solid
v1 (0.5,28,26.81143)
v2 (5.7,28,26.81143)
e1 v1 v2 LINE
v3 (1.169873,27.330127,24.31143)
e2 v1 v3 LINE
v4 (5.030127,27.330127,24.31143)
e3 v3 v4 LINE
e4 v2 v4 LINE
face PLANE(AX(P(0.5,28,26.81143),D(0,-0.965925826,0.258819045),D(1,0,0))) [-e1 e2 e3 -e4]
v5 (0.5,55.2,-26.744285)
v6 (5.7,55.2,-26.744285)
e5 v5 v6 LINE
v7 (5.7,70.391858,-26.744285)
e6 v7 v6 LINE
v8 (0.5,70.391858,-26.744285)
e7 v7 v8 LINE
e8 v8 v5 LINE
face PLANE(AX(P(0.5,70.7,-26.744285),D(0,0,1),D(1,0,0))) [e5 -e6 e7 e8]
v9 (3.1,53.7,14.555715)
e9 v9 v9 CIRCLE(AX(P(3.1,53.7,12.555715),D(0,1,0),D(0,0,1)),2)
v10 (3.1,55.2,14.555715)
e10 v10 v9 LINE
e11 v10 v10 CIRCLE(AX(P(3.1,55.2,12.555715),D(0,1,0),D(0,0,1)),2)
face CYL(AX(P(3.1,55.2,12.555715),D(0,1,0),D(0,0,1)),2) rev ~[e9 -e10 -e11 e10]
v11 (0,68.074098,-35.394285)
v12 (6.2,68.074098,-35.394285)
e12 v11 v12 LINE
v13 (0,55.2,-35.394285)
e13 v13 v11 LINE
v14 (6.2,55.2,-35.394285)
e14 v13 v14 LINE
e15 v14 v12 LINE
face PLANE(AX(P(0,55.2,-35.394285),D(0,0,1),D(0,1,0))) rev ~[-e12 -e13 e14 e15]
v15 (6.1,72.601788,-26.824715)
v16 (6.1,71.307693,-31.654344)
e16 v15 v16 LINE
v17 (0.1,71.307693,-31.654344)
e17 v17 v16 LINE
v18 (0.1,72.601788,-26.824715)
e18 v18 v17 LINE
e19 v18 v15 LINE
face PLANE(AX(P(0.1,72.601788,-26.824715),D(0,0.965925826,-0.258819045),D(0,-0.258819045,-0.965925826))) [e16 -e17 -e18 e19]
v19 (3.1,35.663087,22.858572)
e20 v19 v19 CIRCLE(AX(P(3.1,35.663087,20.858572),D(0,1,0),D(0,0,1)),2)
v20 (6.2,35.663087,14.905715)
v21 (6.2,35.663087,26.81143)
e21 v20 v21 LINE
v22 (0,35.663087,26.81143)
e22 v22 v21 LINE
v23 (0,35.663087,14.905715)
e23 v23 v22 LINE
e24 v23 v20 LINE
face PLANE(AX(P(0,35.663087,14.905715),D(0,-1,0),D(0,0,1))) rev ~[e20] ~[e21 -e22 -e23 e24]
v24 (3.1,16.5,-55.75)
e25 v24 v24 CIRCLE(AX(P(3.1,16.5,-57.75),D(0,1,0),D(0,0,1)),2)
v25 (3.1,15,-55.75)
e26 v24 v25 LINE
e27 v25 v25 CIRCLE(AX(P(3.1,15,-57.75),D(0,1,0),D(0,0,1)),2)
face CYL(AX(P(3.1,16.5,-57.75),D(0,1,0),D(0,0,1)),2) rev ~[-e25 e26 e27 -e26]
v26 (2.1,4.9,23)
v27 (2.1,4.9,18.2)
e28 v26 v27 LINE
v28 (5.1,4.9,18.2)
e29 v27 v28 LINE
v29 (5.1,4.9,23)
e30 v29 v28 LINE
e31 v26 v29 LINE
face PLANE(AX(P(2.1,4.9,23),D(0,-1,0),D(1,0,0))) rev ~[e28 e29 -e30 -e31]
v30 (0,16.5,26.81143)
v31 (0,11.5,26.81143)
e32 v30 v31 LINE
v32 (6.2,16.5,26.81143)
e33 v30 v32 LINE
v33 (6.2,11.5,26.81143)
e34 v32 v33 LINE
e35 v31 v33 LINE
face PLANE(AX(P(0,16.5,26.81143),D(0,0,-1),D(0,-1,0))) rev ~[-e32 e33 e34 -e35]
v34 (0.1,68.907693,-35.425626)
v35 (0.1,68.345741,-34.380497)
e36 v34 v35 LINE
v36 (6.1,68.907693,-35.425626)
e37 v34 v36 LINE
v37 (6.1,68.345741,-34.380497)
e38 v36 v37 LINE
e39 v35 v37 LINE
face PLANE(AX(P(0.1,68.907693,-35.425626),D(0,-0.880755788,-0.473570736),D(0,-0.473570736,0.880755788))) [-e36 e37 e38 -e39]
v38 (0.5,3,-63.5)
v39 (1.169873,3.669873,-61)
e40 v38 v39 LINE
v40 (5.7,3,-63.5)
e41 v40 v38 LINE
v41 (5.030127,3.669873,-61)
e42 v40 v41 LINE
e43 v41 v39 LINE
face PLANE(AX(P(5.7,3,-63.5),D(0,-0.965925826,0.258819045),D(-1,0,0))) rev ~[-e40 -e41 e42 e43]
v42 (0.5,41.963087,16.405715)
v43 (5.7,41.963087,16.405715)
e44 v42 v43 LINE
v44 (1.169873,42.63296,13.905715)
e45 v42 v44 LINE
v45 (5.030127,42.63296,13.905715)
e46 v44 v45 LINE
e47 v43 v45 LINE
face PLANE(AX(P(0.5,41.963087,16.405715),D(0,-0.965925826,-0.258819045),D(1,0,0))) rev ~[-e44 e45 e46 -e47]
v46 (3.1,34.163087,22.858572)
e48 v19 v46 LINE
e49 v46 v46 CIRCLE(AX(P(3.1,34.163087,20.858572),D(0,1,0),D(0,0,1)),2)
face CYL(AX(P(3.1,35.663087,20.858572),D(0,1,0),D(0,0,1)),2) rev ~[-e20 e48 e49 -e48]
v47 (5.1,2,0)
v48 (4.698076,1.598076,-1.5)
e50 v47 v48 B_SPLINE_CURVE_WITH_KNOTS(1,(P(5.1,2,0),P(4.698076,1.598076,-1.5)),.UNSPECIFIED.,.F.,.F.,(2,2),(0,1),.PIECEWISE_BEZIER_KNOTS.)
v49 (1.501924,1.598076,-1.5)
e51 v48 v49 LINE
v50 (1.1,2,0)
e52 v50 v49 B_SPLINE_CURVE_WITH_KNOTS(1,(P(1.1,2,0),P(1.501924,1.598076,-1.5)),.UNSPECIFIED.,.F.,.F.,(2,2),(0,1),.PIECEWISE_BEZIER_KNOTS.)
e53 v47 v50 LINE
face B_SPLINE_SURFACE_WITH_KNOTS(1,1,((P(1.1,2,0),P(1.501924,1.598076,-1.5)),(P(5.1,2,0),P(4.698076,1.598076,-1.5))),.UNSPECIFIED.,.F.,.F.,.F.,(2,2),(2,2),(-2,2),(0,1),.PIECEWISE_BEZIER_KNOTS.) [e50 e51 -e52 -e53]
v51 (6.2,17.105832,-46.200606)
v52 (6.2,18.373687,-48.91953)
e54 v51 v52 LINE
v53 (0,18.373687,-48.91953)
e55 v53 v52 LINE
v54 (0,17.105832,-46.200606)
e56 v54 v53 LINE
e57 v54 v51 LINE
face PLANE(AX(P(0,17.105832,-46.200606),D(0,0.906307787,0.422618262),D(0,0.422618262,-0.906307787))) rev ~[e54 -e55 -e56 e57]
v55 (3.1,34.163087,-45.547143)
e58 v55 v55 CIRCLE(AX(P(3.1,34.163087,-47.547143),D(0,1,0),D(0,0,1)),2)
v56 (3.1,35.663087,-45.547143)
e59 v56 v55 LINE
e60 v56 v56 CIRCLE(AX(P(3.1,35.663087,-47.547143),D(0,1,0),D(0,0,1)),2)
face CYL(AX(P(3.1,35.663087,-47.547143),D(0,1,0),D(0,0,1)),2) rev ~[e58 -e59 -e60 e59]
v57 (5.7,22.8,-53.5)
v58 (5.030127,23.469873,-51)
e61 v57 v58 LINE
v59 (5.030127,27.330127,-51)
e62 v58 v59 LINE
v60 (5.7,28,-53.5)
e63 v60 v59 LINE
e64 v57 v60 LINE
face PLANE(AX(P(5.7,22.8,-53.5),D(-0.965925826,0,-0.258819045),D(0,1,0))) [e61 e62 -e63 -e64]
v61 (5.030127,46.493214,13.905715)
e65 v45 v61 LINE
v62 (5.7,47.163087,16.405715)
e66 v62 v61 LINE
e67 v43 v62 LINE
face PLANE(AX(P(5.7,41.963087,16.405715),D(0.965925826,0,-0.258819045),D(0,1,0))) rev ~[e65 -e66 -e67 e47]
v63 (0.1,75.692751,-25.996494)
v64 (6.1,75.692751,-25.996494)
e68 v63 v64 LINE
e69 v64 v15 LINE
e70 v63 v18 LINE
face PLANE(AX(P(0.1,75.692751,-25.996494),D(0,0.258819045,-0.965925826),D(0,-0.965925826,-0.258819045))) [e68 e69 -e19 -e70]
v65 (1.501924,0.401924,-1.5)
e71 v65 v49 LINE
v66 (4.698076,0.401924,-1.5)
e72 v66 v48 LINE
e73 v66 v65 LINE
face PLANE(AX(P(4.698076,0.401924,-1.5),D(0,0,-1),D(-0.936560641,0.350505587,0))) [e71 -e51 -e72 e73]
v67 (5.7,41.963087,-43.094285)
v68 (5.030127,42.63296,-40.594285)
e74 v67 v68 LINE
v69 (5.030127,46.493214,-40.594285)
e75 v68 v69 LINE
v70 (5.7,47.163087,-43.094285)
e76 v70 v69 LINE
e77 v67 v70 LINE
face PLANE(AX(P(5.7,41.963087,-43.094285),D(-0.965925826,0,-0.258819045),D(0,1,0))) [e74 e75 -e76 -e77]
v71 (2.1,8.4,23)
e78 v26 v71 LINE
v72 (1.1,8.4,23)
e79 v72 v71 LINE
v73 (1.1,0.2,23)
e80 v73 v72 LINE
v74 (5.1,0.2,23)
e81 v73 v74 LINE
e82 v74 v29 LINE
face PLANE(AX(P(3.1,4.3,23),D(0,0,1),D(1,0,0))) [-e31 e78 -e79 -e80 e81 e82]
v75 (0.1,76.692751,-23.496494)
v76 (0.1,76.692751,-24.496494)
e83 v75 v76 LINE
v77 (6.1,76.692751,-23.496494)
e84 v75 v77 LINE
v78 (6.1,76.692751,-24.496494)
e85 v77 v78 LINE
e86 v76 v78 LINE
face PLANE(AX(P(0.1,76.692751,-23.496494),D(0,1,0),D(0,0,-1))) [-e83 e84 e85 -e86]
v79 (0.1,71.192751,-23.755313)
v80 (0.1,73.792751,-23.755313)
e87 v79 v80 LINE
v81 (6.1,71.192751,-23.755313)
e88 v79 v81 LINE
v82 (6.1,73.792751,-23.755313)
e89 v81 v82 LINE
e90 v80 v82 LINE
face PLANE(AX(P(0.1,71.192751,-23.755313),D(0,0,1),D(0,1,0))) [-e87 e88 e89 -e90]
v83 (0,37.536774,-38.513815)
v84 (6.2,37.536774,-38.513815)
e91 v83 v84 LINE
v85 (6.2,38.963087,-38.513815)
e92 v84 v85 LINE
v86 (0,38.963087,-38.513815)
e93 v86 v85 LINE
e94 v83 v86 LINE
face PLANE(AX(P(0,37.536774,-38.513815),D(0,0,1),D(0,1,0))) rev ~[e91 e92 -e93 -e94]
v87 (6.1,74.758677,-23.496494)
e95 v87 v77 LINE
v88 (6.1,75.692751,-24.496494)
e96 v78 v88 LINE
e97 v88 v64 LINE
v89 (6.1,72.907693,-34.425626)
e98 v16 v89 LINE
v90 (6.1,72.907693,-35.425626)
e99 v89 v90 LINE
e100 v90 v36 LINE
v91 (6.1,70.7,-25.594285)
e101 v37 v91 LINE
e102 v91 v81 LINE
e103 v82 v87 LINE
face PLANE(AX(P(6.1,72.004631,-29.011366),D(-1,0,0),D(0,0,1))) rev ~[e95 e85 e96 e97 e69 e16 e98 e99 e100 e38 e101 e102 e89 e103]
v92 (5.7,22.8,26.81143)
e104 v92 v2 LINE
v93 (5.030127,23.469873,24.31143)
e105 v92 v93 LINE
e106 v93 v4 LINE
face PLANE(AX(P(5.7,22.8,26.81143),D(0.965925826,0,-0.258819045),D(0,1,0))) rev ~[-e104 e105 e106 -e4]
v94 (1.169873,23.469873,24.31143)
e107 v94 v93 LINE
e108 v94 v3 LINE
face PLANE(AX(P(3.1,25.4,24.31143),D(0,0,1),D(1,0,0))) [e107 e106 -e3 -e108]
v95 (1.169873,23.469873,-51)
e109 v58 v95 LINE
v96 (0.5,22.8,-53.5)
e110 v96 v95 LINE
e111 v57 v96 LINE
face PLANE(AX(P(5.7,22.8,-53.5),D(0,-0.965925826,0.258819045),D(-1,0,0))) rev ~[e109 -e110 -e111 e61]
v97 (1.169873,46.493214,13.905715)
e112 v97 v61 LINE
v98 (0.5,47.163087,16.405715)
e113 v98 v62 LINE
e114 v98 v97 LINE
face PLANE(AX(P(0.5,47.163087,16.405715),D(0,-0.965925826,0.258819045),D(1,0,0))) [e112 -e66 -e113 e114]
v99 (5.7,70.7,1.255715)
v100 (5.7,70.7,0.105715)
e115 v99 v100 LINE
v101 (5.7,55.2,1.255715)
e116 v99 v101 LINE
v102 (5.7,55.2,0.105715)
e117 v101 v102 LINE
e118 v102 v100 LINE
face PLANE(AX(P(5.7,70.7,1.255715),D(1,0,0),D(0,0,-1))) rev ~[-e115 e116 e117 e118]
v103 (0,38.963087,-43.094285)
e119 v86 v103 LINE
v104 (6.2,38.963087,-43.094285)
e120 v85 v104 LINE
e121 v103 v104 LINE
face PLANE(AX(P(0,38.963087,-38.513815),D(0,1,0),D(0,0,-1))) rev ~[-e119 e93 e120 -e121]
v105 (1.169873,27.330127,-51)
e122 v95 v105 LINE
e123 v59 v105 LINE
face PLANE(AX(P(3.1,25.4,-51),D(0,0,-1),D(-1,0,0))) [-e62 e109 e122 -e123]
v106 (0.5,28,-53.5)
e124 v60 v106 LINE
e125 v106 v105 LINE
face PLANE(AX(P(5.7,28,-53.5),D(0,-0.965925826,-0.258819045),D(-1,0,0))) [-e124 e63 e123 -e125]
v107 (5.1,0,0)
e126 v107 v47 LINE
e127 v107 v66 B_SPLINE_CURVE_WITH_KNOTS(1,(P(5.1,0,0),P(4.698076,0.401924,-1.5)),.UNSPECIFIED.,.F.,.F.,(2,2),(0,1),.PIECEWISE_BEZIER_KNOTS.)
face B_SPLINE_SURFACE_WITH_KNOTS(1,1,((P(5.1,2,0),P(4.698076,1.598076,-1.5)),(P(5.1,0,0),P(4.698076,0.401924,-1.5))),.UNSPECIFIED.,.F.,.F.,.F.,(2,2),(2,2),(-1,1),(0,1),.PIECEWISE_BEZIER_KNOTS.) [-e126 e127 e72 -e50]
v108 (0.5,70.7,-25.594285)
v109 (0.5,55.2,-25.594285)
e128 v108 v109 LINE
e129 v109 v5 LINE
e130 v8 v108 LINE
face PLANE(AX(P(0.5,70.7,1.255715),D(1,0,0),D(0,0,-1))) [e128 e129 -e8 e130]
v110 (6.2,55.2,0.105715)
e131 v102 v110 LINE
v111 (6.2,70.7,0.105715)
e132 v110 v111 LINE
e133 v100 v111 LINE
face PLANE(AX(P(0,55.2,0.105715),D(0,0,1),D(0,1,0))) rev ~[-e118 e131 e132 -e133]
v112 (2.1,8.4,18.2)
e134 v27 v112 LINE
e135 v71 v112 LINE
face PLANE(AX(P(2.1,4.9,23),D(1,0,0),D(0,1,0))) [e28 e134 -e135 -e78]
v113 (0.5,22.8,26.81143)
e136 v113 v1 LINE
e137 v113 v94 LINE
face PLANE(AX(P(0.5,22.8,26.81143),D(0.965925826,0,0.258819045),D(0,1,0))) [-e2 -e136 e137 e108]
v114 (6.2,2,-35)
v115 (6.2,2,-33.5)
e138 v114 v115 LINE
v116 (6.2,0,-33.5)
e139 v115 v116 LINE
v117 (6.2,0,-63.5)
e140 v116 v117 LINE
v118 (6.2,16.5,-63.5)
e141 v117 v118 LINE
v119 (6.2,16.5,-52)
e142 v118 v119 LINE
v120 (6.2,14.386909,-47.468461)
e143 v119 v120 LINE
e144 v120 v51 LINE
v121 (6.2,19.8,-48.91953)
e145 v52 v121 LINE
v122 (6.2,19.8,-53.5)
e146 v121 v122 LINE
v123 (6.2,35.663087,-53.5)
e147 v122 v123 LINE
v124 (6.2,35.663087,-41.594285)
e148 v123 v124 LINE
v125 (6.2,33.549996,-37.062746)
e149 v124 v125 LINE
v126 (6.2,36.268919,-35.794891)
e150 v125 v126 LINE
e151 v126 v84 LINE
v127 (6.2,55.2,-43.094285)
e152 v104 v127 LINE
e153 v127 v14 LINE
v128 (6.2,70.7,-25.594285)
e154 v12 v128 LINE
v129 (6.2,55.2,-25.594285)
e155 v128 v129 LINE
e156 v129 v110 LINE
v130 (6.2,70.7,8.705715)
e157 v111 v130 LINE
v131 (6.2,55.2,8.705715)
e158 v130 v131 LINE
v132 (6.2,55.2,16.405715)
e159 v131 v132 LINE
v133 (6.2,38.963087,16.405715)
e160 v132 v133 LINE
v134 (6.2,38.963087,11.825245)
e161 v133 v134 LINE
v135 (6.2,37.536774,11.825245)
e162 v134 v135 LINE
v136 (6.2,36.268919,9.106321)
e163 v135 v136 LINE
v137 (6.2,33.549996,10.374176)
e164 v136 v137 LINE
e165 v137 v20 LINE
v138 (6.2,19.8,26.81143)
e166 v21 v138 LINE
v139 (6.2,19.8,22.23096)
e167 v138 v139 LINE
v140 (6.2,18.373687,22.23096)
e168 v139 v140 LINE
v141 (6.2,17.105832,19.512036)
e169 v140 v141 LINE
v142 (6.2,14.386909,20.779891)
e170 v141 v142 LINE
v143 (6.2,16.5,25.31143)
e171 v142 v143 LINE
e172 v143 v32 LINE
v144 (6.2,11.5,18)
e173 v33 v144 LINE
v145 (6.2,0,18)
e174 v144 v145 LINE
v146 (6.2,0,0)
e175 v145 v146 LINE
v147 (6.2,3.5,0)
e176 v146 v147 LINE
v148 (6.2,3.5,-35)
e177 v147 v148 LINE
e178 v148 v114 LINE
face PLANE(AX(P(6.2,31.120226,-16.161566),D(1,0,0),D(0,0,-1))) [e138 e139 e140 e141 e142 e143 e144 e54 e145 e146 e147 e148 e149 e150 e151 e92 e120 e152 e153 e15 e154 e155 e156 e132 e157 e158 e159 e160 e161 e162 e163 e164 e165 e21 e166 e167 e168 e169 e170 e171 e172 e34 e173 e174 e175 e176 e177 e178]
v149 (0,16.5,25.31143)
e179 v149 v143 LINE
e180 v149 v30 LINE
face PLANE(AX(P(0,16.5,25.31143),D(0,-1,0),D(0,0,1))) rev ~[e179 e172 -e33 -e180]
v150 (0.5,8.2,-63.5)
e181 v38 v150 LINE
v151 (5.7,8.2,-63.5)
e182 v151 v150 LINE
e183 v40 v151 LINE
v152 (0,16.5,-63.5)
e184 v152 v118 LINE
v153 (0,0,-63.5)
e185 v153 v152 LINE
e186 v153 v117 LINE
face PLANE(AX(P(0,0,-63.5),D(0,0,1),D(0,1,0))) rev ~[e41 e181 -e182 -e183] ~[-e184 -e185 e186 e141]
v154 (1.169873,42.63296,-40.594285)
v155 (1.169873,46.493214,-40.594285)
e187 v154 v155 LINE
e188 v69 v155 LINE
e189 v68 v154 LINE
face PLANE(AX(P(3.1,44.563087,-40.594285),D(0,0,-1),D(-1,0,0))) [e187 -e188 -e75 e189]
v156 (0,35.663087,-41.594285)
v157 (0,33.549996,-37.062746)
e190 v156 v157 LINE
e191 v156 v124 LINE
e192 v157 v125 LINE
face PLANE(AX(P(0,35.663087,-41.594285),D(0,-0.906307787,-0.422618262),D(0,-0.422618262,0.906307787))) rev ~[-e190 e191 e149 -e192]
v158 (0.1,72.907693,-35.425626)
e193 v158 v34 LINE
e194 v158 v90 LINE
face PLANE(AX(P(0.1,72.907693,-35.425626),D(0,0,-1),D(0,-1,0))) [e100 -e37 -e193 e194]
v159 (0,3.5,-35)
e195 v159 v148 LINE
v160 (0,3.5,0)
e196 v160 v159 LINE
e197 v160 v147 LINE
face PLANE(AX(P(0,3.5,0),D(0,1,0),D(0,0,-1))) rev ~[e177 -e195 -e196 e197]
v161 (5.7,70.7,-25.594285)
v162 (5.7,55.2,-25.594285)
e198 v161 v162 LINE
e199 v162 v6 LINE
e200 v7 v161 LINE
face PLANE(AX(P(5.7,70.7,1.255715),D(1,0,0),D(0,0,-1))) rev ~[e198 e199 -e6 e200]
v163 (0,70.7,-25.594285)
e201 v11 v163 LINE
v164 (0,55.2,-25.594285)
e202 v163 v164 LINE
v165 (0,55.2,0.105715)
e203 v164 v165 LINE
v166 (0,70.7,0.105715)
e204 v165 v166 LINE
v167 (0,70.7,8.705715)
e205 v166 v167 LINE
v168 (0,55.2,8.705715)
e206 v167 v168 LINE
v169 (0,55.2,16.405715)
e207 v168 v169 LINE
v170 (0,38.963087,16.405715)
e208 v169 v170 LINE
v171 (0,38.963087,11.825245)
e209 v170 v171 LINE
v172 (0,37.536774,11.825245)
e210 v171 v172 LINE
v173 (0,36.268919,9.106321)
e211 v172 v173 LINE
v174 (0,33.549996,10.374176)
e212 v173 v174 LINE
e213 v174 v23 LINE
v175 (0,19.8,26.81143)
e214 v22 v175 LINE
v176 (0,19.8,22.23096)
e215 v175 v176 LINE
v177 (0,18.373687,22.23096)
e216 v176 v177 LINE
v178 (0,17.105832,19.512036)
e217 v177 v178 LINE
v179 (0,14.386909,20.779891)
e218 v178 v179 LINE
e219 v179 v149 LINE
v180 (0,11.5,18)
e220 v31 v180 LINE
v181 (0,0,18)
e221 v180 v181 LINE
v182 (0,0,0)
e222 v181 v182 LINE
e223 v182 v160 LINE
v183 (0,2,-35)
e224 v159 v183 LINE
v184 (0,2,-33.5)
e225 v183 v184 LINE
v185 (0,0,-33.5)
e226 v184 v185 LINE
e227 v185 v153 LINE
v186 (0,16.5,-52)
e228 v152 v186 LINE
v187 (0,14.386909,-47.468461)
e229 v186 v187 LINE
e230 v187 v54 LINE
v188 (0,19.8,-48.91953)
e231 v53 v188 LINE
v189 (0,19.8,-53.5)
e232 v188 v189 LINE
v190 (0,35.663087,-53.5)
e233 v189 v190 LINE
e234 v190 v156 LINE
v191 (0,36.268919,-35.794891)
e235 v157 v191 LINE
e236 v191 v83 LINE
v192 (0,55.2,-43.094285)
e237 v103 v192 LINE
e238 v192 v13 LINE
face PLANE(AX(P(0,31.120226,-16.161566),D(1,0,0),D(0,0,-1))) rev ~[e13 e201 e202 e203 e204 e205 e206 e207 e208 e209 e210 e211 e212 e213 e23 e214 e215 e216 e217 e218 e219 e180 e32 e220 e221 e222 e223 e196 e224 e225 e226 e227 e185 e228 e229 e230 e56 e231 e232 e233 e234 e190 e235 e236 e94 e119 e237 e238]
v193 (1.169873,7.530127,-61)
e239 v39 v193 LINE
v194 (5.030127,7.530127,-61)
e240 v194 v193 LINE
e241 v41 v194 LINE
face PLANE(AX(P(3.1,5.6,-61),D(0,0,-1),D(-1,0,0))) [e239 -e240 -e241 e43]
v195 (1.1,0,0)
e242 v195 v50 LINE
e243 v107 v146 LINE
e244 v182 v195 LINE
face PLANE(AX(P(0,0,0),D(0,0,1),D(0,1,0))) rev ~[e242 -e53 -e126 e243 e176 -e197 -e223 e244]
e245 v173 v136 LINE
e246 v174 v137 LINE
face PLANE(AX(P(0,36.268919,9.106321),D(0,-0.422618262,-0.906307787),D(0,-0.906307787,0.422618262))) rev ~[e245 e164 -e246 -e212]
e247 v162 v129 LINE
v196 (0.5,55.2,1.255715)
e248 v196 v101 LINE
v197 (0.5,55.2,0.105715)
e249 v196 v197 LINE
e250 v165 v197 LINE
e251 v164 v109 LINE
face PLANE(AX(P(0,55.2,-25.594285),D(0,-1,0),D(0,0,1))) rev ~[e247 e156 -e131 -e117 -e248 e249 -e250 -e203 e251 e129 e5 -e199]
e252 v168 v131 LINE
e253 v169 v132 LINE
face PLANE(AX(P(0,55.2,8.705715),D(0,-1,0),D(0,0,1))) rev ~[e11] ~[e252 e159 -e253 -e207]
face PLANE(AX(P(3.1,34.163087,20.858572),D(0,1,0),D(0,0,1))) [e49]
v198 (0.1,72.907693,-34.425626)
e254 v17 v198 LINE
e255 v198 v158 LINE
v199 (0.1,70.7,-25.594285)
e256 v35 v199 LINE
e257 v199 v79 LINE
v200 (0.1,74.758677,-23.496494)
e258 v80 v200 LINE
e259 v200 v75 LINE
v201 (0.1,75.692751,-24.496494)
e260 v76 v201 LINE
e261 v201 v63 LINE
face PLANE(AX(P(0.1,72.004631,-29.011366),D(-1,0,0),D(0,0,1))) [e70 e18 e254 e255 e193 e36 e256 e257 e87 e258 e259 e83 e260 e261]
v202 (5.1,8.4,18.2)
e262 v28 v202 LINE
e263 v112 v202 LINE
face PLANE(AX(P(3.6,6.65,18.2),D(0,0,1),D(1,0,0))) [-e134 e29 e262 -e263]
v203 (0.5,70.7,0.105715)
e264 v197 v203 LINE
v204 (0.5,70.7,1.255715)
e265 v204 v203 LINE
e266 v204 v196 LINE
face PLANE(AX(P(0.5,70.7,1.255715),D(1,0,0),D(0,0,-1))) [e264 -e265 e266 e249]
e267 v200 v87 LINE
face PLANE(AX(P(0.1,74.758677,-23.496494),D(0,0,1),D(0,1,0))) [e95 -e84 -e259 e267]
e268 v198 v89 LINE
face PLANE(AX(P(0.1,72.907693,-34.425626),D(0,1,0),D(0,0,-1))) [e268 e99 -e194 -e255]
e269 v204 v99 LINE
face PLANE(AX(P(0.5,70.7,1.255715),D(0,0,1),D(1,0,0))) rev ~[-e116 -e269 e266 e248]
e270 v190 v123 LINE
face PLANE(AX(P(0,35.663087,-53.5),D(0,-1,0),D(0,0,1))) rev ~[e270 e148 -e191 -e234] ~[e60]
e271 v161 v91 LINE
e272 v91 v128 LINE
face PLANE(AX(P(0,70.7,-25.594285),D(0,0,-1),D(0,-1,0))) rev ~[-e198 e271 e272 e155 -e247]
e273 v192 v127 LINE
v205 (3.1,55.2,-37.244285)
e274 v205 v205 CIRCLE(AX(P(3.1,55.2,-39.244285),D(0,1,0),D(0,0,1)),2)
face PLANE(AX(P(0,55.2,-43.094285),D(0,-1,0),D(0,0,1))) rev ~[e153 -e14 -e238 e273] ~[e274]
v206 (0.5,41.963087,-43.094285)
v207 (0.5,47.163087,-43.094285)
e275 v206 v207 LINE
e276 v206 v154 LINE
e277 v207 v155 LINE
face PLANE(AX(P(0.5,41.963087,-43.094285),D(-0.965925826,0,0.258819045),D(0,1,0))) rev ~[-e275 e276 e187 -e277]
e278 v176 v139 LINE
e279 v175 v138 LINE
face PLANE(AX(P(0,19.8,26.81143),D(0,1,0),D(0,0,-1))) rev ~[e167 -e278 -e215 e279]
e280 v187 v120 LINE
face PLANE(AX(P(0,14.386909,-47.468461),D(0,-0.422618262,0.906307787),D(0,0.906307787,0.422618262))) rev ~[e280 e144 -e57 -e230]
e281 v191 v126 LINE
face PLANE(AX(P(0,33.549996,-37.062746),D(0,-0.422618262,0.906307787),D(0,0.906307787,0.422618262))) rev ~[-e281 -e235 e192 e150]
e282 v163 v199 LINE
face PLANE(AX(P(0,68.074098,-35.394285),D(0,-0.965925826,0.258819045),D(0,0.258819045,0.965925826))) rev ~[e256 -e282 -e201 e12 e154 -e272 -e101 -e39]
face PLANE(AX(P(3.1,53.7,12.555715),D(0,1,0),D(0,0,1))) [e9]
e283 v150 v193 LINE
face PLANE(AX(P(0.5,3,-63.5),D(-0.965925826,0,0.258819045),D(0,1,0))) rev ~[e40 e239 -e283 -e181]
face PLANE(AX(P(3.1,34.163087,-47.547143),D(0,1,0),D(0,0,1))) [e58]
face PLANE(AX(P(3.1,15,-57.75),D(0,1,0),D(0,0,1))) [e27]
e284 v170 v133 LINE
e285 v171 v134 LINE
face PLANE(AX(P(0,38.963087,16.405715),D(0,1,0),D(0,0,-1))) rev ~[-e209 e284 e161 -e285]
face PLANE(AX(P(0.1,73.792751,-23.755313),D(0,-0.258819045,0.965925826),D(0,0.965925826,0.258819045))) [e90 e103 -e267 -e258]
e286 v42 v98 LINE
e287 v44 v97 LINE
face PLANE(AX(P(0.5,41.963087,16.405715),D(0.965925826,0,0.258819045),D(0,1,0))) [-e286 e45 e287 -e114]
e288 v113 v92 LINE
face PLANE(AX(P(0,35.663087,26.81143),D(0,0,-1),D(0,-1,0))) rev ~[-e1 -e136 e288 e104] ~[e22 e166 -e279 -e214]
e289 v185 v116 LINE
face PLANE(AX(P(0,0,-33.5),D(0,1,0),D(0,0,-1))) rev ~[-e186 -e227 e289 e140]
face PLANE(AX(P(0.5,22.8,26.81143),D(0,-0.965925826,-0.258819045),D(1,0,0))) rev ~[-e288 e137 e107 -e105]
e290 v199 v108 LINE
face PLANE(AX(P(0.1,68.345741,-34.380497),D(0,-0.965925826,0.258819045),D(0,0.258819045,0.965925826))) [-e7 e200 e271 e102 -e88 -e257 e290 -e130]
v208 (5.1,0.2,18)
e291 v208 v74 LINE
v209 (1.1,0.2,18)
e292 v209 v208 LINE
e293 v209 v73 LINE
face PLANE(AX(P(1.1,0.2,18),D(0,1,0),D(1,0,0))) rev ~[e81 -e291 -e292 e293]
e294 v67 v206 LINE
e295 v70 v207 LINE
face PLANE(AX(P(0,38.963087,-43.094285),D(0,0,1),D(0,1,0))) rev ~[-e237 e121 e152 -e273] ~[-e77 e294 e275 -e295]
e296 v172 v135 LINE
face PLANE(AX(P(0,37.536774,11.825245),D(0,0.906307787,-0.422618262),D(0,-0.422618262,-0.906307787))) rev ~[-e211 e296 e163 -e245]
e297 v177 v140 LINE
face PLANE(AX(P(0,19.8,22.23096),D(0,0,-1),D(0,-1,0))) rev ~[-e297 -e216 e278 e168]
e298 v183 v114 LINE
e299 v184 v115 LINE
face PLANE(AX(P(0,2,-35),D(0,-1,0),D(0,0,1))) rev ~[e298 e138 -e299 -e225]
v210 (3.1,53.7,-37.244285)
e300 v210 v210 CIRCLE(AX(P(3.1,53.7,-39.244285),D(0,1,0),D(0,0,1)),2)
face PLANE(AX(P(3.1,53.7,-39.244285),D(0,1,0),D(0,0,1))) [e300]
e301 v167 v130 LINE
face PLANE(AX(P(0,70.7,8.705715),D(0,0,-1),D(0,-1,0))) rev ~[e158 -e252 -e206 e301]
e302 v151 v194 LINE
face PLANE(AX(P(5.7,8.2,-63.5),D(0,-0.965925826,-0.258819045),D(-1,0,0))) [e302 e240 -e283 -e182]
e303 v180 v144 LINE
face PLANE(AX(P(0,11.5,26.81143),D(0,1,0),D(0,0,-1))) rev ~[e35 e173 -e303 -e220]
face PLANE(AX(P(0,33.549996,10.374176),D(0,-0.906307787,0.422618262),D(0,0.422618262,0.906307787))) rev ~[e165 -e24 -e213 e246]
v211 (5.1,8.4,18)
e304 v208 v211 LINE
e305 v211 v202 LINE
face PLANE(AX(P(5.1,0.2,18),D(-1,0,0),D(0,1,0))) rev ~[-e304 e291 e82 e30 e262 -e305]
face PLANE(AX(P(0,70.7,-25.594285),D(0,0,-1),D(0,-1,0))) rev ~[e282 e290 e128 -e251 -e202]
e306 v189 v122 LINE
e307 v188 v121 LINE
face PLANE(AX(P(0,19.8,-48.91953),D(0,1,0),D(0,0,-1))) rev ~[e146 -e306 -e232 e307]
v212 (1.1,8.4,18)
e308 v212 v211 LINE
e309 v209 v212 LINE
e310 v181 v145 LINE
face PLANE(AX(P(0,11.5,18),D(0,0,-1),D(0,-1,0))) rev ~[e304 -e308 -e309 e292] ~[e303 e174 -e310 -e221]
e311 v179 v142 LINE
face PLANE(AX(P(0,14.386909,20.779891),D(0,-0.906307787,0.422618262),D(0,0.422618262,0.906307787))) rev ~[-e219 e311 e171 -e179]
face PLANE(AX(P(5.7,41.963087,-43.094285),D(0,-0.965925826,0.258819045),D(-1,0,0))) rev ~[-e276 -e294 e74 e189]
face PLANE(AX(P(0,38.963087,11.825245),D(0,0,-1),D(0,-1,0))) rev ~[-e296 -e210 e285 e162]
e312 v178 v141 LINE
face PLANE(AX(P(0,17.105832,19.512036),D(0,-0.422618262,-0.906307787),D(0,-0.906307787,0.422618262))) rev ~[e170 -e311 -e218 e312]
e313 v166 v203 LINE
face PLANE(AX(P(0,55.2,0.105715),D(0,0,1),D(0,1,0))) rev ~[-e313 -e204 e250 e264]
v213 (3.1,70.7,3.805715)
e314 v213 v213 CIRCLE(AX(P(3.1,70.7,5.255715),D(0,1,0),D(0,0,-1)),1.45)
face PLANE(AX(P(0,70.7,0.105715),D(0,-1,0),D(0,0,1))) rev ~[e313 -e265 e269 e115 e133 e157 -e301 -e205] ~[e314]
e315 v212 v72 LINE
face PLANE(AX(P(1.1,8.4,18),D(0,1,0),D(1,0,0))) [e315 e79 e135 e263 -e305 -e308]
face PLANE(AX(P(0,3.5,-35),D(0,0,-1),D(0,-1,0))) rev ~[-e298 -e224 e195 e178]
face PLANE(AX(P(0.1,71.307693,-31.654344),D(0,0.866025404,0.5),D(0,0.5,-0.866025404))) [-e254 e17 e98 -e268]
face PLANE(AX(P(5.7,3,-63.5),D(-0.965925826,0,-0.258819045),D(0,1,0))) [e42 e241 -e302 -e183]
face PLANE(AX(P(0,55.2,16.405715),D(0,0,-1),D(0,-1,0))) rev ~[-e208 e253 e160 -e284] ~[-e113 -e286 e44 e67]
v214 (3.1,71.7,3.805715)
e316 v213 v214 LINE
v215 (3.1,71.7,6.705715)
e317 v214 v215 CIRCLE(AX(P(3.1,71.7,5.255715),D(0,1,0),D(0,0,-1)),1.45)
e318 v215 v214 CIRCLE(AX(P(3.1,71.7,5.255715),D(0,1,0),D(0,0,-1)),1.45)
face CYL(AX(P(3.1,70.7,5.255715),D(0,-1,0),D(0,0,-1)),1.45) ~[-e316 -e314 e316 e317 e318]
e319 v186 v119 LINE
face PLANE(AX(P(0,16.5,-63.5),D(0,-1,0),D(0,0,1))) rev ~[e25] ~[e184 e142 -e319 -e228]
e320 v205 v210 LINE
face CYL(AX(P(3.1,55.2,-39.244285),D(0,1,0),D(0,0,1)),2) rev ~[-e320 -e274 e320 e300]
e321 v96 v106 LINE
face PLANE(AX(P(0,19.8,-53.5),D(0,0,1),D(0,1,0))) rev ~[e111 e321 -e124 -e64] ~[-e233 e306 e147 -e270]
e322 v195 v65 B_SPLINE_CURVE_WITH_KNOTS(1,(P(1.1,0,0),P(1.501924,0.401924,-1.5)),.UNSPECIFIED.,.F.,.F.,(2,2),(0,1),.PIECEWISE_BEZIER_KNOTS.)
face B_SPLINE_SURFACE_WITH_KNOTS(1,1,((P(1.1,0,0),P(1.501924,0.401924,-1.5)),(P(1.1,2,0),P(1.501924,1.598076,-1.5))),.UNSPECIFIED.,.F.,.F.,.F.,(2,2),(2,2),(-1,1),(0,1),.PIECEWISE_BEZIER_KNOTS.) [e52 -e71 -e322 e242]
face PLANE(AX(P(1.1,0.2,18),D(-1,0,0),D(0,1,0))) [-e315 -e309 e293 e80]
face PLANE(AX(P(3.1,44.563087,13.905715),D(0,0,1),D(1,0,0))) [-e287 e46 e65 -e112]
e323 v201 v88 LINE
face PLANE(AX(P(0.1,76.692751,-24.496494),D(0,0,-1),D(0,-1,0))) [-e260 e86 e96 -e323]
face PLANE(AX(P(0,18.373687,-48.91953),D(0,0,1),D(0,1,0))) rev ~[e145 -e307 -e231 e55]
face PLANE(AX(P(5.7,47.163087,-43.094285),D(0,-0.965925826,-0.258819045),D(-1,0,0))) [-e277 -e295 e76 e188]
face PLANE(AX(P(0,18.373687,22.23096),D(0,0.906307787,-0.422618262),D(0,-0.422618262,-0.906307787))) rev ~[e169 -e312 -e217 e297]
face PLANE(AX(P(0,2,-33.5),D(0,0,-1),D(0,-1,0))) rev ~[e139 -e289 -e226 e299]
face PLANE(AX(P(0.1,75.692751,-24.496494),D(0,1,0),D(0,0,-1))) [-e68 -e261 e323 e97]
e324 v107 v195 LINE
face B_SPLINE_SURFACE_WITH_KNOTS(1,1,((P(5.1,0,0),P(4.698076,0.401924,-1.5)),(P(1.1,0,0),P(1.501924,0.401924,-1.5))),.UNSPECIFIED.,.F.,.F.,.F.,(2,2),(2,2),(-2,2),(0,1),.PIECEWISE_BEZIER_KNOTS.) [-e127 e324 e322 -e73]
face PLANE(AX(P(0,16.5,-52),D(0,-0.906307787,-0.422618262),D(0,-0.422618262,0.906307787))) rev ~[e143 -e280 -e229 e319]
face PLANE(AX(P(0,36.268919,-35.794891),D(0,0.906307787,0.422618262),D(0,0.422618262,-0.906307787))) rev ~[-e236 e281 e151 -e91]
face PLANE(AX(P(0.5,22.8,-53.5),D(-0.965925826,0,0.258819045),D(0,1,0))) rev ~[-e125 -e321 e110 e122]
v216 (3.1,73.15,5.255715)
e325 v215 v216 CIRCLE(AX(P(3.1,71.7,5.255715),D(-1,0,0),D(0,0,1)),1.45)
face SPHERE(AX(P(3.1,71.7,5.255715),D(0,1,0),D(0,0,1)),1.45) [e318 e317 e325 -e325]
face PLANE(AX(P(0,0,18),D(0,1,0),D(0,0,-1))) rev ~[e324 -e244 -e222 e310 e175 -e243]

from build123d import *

# Parameters (mm, degrees)
BOSS_EXTRUDE1_DEPTH      = 6.2
SKETCH2_W                = 5.2
SKETCH2_H                = 28
CUT_EXTRUDE1_DEPTH       = 15.5
SKETCH3_R                = 1.45
BOSS_EXTRUDE2_DEPTH      = 1
DOME1_FACE_RADIUS        = 1.45
DOME1_HEIGHT             = 1.45
SKETCH4_W                = 4
SKETCH4_H                = 8.2
BOSS_EXTRUDE3_DEPTH      = 5
SKETCH5_W                = 3
SKETCH5_H                = 3.5
CUT_EXTRUDE2_DEPTH       = 4.8
SKETCH6_W                = 4
SKETCH6_H                = 2
BOSS_EXTRUDE4_DEPTH      = 1.5
BOSS_EXTRUDE4_TAPER      = 15
BOSS_EXTRUDE5_DEPTH      = 3
BOSS_EXTRUDE5_DEPTH_BACK = 3
SKETCH8_R                = 2
CUT_EXTRUDE3_DEPTH       = 1.5
SKETCH9_R                = 2
CUT_EXTRUDE4_DEPTH       = 1.5
SKETCH10_R               = 2
CUT_EXTRUDE5_DEPTH       = 1.5
SKETCH11_W               = 5.2
SKETCH11_H               = 5.2
CUT_EXTRUDE6_DEPTH       = 2.5
CUT_EXTRUDE6_DRAFT       = -15
SKETCH12_W               = 5.2
SKETCH12_H               = 5.2
CUT_EXTRUDE7_DEPTH       = 2.5
CUT_EXTRUDE7_DRAFT       = -15
SKETCH13_W               = 5.2
SKETCH13_H               = 5.2
CUT_EXTRUDE8_DEPTH       = 2.5
CUT_EXTRUDE8_DRAFT       = -15
SKETCH14_W               = 5.2
SKETCH14_H               = 5.2
CUT_EXTRUDE9_DEPTH       = 2.5
CUT_EXTRUDE9_DRAFT       = -15
SKETCH15_W               = 5.2
SKETCH15_H               = 5.2
CUT_EXTRUDE10_DEPTH      = 2.5
CUT_EXTRUDE10_DRAFT      = -15


with BuildPart() as part:
    # Sketch1 → Boss-Extrude1 (new body)
    with BuildSketch(Plane(origin=(0, 0, 0), x_dir=(0, 0, -1), z_dir=(1, 0, 0))):
        Polygon((0, 0), (0, 3.5), (35, 3.5), (35, 2), (33.5, 2), (33.5, 0), (63.5, 0), (63.5, 16.5), (52, 16.5), (47.468461065, 14.386908691), (46.20060628, 17.105832052), (48.919529641, 18.373686838), (48.919529641, 19.8), (53.5, 19.8), (53.5, 35.663086876), (41.594285018, 35.663086876), (37.062746083, 33.549995567), (35.794891298, 36.268918928), (38.513814659, 37.536773714), (38.513814659, 38.963086876), (43.094285018, 38.963086876), (43.094285018, 55.2), (35.394285018, 55.2), (35.394285018, 68.074097914), (25.594285018, 70.7), (25.594285018, 55.2), (-0.105714982, 55.2), (-0.105714982, 70.7), (-8.705714982, 70.7), (-8.705714982, 55.2), (-16.405714982, 55.2), (-16.405714982, 38.963086876), (-11.825244622, 38.963086876), (-11.825244622, 37.536773714), (-9.106321261, 36.268918928), (-10.374176047, 33.549995567), (-14.905714982, 35.663086876), (-26.811429963, 35.663086876), (-26.811429963, 19.8), (-22.230959604, 19.8), (-22.230959604, 18.373686838), (-19.512036243, 17.105832052), (-20.779891028, 14.386908691), (-25.311429963, 16.5), (-26.811429963, 16.5), (-26.811429963, 11.5), (-18, 11.5), (-18, 0), align=None)
    extrude(amount=BOSS_EXTRUDE1_DEPTH)

    # Sketch2 → Cut-Extrude1 (cut)
    with BuildSketch(Plane(origin=(0, 70.7, 0), x_dir=(1, 0, 0), z_dir=(0, 1, 0))):
        with Locations((3.1, 12.744285018)):
            Rectangle(SKETCH2_W, SKETCH2_H)
    extrude(amount=-CUT_EXTRUDE1_DEPTH, mode=Mode.SUBTRACT)

    # Sketch3 → Boss-Extrude2 (add)
    with BuildSketch(Plane(origin=(0, 70.7, 0), x_dir=(1, 0, 0), z_dir=(0, 1, 0))):
        with Locations(Location((3.1, -5.255714982, 0), (0, 0, 90))):
            Circle(SKETCH3_R)
    extrude(amount=BOSS_EXTRUDE2_DEPTH)

    # Dome1: a dome of height H over a round flat face of radius A is a cap of a sphere of radius (A * A + H * H) / (2 * H)
    dome1_r = (DOME1_FACE_RADIUS * DOME1_FACE_RADIUS + DOME1_HEIGHT * DOME1_HEIGHT) / (2 * DOME1_HEIGHT)
    dome1_base = Plane((3.1, 71.7, 5.255714982), z_dir=(0, 1, 0))
    with Locations(dome1_base.offset(DOME1_HEIGHT - dome1_r)):
        dome1_ball = Sphere(dome1_r, mode=Mode.PRIVATE)
    add(split(dome1_ball, bisect_by=dome1_base, keep=Keep.TOP, mode=Mode.PRIVATE))

    # Sketch4 → Boss-Extrude3 (add)
    with BuildSketch(Plane.XY.offset(18)):
        with Locations((3.1, 4.3)):
            Rectangle(SKETCH4_W, SKETCH4_H)
    extrude(amount=BOSS_EXTRUDE3_DEPTH)

    # Sketch5 → Cut-Extrude2 (cut)
    with BuildSketch(Plane.XY.offset(23)):
        with Locations((3.6, 6.65)):
            Rectangle(SKETCH5_W, SKETCH5_H)
    extrude(amount=-CUT_EXTRUDE2_DEPTH, mode=Mode.SUBTRACT)

    # Sketch6 → Boss-Extrude4 (add)
    with BuildSketch(Plane(origin=(0, 0, 0), x_dir=(-1, 0, 0), z_dir=(0, 0, -1))):
        with Locations((-3.1, 1)):
            Rectangle(SKETCH6_W, SKETCH6_H)
    extrude(amount=BOSS_EXTRUDE4_DEPTH, taper=BOSS_EXTRUDE4_TAPER)

    # Sketch7 → Boss-Extrude5 (add, two sides: drawn at the far end of the back side and taken through both)
    with BuildSketch(Plane(origin=(3.1, 0, 0), x_dir=(0, 0, -1), z_dir=(1, 0, 0)).offset(-BOSS_EXTRUDE5_DEPTH_BACK)):
        Polygon((34.380497445, 68.345741476), (23.755313356, 71.192750972), (23.755313356, 73.792750972), (23.496494311, 74.758676798), (23.496494311, 76.692750972), (24.496494311, 76.692750972), (24.496494311, 75.692750972), (25.996494311, 75.692750972), (26.824715255, 72.601788328), (31.654344387, 71.307693102), (34.425625679, 72.907693102), (35.425625679, 72.907693102), (35.425625679, 68.907693102), align=None)
    extrude(amount=BOSS_EXTRUDE5_DEPTH + BOSS_EXTRUDE5_DEPTH_BACK)

    # Sketch8 → Cut-Extrude3 (cut)
    with BuildSketch(Plane(origin=(0, 55.2, 0), x_dir=(1, 0, 0), z_dir=(0, 1, 0))):
        with Locations(Location((3.1, 39.244285018, 0), (0, 0, 270))):
            Circle(SKETCH8_R)
        with Locations(Location((3.1, -12.555714982, 0), (0, 0, 270))):
            Circle(SKETCH8_R)
    extrude(amount=-CUT_EXTRUDE3_DEPTH, mode=Mode.SUBTRACT)

    # Sketch9 → Cut-Extrude4 (cut)
    with BuildSketch(Plane(origin=(0, 35.663086876, 0), x_dir=(1, 0, 0), z_dir=(0, 1, 0))):
        with Locations(Location((3.1, 47.547142509, 0), (0, 0, 270))):
            Circle(SKETCH9_R)
        with Locations(Location((3.1, -20.858572473, 0), (0, 0, 270))):
            Circle(SKETCH9_R)
    extrude(amount=-CUT_EXTRUDE4_DEPTH, mode=Mode.SUBTRACT)

    # Sketch10 → Cut-Extrude5 (cut)
    with BuildSketch(Plane(origin=(0, 16.5, 0), x_dir=(1, 0, 0), z_dir=(0, 1, 0))):
        with Locations(Location((3.1, 57.75, 0), (0, 0, 270))):
            Circle(SKETCH10_R)
    extrude(amount=-CUT_EXTRUDE5_DEPTH, mode=Mode.SUBTRACT)


with BuildPart() as cut_extrude6_tool:
    # Sketch11 → Cut-Extrude6 (with draft: the straight prism first)
    with BuildSketch(Plane(origin=(0, 0, -63.5), x_dir=(-1, 0, 0), z_dir=(0, 0, -1))):
        with Locations((-3.1, 5.6)):
            Rectangle(SKETCH11_W, SKETCH11_H)
    extrude(amount=-CUT_EXTRUDE6_DEPTH)
    # Cut-Extrude6: the draft: its side faces are tilted about the plane it starts from
    cut_extrude6_sides = [cut_extrude6_tool.faces().sort_by_distance(p)[0] for p in [
        (3.1, 3, -62.25),
        (0.5, 5.6, -62.25),
        (3.1, 8.2, -62.25),
        (5.7, 5.6, -62.25),
    ]]
    draft(cut_extrude6_sides, Plane(origin=(0, 0, -63.5), x_dir=(-1, 0, 0), z_dir=(0, 0, -1)), CUT_EXTRUDE6_DRAFT)


with BuildPart() as part_1:
    add(part.part)

    # Cut-Extrude6: cut by cut_extrude6_tool
    add(cut_extrude6_tool.part, mode=Mode.SUBTRACT)


with BuildPart() as cut_extrude7_tool:
    # Sketch12 → Cut-Extrude7 (with draft: the straight prism first)
    with BuildSketch(Plane(origin=(0, 0, -53.5), x_dir=(-1, 0, 0), z_dir=(0, 0, -1))):
        with Locations((-3.1, 25.4)):
            Rectangle(SKETCH12_W, SKETCH12_H)
    extrude(amount=-CUT_EXTRUDE7_DEPTH)
    # Cut-Extrude7: the draft: its side faces are tilted about the plane it starts from
    cut_extrude7_sides = [cut_extrude7_tool.faces().sort_by_distance(p)[0] for p in [
        (3.1, 22.8, -52.25),
        (0.5, 25.4, -52.25),
        (3.1, 28, -52.25),
        (5.7, 25.4, -52.25),
    ]]
    draft(cut_extrude7_sides, Plane(origin=(0, 0, -53.5), x_dir=(-1, 0, 0), z_dir=(0, 0, -1)), CUT_EXTRUDE7_DRAFT)


with BuildPart() as part_2:
    add(part_1.part)

    # Cut-Extrude7: cut by cut_extrude7_tool
    add(cut_extrude7_tool.part, mode=Mode.SUBTRACT)


with BuildPart() as cut_extrude8_tool:
    # Sketch13 → Cut-Extrude8 (with draft: the straight prism first)
    with BuildSketch(Plane(origin=(0, 0, -43.094285018), x_dir=(-1, 0, 0), z_dir=(0, 0, -1))):
        with Locations((-3.1, 44.563086876)):
            Rectangle(SKETCH13_W, SKETCH13_H)
    extrude(amount=-CUT_EXTRUDE8_DEPTH)
    # Cut-Extrude8: the draft: its side faces are tilted about the plane it starts from
    cut_extrude8_sides = [cut_extrude8_tool.faces().sort_by_distance(p)[0] for p in [
        (3.1, 41.963086876, -41.844285018),
        (0.5, 44.563086876, -41.844285018),
        (3.1, 47.163086876, -41.844285018),
        (5.7, 44.563086876, -41.844285018),
    ]]
    draft(cut_extrude8_sides, Plane(origin=(0, 0, -43.094285018), x_dir=(-1, 0, 0), z_dir=(0, 0, -1)), CUT_EXTRUDE8_DRAFT)


with BuildPart() as part_3:
    add(part_2.part)

    # Cut-Extrude8: cut by cut_extrude8_tool
    add(cut_extrude8_tool.part, mode=Mode.SUBTRACT)


with BuildPart() as cut_extrude9_tool:
    # Sketch14 → Cut-Extrude9 (with draft: the straight prism first)
    with BuildSketch(Plane.XY.offset(26.811429963)):
        with Locations((3.1, 25.4)):
            Rectangle(SKETCH14_W, SKETCH14_H)
    extrude(amount=-CUT_EXTRUDE9_DEPTH)
    # Cut-Extrude9: the draft: its side faces are tilted about the plane it starts from
    cut_extrude9_sides = [cut_extrude9_tool.faces().sort_by_distance(p)[0] for p in [
        (3.1, 22.8, 25.561429963),
        (5.7, 25.4, 25.561429963),
        (3.1, 28, 25.561429963),
        (0.5, 25.4, 25.561429963),
    ]]
    draft(cut_extrude9_sides, Plane.XY.offset(26.811429963), CUT_EXTRUDE9_DRAFT)


with BuildPart() as part_4:
    add(part_3.part)

    # Cut-Extrude9: cut by cut_extrude9_tool
    add(cut_extrude9_tool.part, mode=Mode.SUBTRACT)


with BuildPart() as cut_extrude10_tool:
    # Sketch15 → Cut-Extrude10 (with draft: the straight prism first)
    with BuildSketch(Plane.XY.offset(16.405714982)):
        with Locations((3.1, 44.563086876)):
            Rectangle(SKETCH15_W, SKETCH15_H)
    extrude(amount=-CUT_EXTRUDE10_DEPTH)
    # Cut-Extrude10: the draft: its side faces are tilted about the plane it starts from
    cut_extrude10_sides = [cut_extrude10_tool.faces().sort_by_distance(p)[0] for p in [
        (3.1, 41.963086876, 15.155714982),
        (5.7, 44.563086876, 15.155714982),
        (3.1, 47.163086876, 15.155714982),
        (0.5, 44.563086876, 15.155714982),
    ]]
    draft(cut_extrude10_sides, Plane.XY.offset(16.405714982), CUT_EXTRUDE10_DRAFT)


with BuildPart() as part_5:
    add(part_4.part)

    # Cut-Extrude10: cut by cut_extrude10_tool
    add(cut_extrude10_tool.part, mode=Mode.SUBTRACT)


solid = part_5.part
